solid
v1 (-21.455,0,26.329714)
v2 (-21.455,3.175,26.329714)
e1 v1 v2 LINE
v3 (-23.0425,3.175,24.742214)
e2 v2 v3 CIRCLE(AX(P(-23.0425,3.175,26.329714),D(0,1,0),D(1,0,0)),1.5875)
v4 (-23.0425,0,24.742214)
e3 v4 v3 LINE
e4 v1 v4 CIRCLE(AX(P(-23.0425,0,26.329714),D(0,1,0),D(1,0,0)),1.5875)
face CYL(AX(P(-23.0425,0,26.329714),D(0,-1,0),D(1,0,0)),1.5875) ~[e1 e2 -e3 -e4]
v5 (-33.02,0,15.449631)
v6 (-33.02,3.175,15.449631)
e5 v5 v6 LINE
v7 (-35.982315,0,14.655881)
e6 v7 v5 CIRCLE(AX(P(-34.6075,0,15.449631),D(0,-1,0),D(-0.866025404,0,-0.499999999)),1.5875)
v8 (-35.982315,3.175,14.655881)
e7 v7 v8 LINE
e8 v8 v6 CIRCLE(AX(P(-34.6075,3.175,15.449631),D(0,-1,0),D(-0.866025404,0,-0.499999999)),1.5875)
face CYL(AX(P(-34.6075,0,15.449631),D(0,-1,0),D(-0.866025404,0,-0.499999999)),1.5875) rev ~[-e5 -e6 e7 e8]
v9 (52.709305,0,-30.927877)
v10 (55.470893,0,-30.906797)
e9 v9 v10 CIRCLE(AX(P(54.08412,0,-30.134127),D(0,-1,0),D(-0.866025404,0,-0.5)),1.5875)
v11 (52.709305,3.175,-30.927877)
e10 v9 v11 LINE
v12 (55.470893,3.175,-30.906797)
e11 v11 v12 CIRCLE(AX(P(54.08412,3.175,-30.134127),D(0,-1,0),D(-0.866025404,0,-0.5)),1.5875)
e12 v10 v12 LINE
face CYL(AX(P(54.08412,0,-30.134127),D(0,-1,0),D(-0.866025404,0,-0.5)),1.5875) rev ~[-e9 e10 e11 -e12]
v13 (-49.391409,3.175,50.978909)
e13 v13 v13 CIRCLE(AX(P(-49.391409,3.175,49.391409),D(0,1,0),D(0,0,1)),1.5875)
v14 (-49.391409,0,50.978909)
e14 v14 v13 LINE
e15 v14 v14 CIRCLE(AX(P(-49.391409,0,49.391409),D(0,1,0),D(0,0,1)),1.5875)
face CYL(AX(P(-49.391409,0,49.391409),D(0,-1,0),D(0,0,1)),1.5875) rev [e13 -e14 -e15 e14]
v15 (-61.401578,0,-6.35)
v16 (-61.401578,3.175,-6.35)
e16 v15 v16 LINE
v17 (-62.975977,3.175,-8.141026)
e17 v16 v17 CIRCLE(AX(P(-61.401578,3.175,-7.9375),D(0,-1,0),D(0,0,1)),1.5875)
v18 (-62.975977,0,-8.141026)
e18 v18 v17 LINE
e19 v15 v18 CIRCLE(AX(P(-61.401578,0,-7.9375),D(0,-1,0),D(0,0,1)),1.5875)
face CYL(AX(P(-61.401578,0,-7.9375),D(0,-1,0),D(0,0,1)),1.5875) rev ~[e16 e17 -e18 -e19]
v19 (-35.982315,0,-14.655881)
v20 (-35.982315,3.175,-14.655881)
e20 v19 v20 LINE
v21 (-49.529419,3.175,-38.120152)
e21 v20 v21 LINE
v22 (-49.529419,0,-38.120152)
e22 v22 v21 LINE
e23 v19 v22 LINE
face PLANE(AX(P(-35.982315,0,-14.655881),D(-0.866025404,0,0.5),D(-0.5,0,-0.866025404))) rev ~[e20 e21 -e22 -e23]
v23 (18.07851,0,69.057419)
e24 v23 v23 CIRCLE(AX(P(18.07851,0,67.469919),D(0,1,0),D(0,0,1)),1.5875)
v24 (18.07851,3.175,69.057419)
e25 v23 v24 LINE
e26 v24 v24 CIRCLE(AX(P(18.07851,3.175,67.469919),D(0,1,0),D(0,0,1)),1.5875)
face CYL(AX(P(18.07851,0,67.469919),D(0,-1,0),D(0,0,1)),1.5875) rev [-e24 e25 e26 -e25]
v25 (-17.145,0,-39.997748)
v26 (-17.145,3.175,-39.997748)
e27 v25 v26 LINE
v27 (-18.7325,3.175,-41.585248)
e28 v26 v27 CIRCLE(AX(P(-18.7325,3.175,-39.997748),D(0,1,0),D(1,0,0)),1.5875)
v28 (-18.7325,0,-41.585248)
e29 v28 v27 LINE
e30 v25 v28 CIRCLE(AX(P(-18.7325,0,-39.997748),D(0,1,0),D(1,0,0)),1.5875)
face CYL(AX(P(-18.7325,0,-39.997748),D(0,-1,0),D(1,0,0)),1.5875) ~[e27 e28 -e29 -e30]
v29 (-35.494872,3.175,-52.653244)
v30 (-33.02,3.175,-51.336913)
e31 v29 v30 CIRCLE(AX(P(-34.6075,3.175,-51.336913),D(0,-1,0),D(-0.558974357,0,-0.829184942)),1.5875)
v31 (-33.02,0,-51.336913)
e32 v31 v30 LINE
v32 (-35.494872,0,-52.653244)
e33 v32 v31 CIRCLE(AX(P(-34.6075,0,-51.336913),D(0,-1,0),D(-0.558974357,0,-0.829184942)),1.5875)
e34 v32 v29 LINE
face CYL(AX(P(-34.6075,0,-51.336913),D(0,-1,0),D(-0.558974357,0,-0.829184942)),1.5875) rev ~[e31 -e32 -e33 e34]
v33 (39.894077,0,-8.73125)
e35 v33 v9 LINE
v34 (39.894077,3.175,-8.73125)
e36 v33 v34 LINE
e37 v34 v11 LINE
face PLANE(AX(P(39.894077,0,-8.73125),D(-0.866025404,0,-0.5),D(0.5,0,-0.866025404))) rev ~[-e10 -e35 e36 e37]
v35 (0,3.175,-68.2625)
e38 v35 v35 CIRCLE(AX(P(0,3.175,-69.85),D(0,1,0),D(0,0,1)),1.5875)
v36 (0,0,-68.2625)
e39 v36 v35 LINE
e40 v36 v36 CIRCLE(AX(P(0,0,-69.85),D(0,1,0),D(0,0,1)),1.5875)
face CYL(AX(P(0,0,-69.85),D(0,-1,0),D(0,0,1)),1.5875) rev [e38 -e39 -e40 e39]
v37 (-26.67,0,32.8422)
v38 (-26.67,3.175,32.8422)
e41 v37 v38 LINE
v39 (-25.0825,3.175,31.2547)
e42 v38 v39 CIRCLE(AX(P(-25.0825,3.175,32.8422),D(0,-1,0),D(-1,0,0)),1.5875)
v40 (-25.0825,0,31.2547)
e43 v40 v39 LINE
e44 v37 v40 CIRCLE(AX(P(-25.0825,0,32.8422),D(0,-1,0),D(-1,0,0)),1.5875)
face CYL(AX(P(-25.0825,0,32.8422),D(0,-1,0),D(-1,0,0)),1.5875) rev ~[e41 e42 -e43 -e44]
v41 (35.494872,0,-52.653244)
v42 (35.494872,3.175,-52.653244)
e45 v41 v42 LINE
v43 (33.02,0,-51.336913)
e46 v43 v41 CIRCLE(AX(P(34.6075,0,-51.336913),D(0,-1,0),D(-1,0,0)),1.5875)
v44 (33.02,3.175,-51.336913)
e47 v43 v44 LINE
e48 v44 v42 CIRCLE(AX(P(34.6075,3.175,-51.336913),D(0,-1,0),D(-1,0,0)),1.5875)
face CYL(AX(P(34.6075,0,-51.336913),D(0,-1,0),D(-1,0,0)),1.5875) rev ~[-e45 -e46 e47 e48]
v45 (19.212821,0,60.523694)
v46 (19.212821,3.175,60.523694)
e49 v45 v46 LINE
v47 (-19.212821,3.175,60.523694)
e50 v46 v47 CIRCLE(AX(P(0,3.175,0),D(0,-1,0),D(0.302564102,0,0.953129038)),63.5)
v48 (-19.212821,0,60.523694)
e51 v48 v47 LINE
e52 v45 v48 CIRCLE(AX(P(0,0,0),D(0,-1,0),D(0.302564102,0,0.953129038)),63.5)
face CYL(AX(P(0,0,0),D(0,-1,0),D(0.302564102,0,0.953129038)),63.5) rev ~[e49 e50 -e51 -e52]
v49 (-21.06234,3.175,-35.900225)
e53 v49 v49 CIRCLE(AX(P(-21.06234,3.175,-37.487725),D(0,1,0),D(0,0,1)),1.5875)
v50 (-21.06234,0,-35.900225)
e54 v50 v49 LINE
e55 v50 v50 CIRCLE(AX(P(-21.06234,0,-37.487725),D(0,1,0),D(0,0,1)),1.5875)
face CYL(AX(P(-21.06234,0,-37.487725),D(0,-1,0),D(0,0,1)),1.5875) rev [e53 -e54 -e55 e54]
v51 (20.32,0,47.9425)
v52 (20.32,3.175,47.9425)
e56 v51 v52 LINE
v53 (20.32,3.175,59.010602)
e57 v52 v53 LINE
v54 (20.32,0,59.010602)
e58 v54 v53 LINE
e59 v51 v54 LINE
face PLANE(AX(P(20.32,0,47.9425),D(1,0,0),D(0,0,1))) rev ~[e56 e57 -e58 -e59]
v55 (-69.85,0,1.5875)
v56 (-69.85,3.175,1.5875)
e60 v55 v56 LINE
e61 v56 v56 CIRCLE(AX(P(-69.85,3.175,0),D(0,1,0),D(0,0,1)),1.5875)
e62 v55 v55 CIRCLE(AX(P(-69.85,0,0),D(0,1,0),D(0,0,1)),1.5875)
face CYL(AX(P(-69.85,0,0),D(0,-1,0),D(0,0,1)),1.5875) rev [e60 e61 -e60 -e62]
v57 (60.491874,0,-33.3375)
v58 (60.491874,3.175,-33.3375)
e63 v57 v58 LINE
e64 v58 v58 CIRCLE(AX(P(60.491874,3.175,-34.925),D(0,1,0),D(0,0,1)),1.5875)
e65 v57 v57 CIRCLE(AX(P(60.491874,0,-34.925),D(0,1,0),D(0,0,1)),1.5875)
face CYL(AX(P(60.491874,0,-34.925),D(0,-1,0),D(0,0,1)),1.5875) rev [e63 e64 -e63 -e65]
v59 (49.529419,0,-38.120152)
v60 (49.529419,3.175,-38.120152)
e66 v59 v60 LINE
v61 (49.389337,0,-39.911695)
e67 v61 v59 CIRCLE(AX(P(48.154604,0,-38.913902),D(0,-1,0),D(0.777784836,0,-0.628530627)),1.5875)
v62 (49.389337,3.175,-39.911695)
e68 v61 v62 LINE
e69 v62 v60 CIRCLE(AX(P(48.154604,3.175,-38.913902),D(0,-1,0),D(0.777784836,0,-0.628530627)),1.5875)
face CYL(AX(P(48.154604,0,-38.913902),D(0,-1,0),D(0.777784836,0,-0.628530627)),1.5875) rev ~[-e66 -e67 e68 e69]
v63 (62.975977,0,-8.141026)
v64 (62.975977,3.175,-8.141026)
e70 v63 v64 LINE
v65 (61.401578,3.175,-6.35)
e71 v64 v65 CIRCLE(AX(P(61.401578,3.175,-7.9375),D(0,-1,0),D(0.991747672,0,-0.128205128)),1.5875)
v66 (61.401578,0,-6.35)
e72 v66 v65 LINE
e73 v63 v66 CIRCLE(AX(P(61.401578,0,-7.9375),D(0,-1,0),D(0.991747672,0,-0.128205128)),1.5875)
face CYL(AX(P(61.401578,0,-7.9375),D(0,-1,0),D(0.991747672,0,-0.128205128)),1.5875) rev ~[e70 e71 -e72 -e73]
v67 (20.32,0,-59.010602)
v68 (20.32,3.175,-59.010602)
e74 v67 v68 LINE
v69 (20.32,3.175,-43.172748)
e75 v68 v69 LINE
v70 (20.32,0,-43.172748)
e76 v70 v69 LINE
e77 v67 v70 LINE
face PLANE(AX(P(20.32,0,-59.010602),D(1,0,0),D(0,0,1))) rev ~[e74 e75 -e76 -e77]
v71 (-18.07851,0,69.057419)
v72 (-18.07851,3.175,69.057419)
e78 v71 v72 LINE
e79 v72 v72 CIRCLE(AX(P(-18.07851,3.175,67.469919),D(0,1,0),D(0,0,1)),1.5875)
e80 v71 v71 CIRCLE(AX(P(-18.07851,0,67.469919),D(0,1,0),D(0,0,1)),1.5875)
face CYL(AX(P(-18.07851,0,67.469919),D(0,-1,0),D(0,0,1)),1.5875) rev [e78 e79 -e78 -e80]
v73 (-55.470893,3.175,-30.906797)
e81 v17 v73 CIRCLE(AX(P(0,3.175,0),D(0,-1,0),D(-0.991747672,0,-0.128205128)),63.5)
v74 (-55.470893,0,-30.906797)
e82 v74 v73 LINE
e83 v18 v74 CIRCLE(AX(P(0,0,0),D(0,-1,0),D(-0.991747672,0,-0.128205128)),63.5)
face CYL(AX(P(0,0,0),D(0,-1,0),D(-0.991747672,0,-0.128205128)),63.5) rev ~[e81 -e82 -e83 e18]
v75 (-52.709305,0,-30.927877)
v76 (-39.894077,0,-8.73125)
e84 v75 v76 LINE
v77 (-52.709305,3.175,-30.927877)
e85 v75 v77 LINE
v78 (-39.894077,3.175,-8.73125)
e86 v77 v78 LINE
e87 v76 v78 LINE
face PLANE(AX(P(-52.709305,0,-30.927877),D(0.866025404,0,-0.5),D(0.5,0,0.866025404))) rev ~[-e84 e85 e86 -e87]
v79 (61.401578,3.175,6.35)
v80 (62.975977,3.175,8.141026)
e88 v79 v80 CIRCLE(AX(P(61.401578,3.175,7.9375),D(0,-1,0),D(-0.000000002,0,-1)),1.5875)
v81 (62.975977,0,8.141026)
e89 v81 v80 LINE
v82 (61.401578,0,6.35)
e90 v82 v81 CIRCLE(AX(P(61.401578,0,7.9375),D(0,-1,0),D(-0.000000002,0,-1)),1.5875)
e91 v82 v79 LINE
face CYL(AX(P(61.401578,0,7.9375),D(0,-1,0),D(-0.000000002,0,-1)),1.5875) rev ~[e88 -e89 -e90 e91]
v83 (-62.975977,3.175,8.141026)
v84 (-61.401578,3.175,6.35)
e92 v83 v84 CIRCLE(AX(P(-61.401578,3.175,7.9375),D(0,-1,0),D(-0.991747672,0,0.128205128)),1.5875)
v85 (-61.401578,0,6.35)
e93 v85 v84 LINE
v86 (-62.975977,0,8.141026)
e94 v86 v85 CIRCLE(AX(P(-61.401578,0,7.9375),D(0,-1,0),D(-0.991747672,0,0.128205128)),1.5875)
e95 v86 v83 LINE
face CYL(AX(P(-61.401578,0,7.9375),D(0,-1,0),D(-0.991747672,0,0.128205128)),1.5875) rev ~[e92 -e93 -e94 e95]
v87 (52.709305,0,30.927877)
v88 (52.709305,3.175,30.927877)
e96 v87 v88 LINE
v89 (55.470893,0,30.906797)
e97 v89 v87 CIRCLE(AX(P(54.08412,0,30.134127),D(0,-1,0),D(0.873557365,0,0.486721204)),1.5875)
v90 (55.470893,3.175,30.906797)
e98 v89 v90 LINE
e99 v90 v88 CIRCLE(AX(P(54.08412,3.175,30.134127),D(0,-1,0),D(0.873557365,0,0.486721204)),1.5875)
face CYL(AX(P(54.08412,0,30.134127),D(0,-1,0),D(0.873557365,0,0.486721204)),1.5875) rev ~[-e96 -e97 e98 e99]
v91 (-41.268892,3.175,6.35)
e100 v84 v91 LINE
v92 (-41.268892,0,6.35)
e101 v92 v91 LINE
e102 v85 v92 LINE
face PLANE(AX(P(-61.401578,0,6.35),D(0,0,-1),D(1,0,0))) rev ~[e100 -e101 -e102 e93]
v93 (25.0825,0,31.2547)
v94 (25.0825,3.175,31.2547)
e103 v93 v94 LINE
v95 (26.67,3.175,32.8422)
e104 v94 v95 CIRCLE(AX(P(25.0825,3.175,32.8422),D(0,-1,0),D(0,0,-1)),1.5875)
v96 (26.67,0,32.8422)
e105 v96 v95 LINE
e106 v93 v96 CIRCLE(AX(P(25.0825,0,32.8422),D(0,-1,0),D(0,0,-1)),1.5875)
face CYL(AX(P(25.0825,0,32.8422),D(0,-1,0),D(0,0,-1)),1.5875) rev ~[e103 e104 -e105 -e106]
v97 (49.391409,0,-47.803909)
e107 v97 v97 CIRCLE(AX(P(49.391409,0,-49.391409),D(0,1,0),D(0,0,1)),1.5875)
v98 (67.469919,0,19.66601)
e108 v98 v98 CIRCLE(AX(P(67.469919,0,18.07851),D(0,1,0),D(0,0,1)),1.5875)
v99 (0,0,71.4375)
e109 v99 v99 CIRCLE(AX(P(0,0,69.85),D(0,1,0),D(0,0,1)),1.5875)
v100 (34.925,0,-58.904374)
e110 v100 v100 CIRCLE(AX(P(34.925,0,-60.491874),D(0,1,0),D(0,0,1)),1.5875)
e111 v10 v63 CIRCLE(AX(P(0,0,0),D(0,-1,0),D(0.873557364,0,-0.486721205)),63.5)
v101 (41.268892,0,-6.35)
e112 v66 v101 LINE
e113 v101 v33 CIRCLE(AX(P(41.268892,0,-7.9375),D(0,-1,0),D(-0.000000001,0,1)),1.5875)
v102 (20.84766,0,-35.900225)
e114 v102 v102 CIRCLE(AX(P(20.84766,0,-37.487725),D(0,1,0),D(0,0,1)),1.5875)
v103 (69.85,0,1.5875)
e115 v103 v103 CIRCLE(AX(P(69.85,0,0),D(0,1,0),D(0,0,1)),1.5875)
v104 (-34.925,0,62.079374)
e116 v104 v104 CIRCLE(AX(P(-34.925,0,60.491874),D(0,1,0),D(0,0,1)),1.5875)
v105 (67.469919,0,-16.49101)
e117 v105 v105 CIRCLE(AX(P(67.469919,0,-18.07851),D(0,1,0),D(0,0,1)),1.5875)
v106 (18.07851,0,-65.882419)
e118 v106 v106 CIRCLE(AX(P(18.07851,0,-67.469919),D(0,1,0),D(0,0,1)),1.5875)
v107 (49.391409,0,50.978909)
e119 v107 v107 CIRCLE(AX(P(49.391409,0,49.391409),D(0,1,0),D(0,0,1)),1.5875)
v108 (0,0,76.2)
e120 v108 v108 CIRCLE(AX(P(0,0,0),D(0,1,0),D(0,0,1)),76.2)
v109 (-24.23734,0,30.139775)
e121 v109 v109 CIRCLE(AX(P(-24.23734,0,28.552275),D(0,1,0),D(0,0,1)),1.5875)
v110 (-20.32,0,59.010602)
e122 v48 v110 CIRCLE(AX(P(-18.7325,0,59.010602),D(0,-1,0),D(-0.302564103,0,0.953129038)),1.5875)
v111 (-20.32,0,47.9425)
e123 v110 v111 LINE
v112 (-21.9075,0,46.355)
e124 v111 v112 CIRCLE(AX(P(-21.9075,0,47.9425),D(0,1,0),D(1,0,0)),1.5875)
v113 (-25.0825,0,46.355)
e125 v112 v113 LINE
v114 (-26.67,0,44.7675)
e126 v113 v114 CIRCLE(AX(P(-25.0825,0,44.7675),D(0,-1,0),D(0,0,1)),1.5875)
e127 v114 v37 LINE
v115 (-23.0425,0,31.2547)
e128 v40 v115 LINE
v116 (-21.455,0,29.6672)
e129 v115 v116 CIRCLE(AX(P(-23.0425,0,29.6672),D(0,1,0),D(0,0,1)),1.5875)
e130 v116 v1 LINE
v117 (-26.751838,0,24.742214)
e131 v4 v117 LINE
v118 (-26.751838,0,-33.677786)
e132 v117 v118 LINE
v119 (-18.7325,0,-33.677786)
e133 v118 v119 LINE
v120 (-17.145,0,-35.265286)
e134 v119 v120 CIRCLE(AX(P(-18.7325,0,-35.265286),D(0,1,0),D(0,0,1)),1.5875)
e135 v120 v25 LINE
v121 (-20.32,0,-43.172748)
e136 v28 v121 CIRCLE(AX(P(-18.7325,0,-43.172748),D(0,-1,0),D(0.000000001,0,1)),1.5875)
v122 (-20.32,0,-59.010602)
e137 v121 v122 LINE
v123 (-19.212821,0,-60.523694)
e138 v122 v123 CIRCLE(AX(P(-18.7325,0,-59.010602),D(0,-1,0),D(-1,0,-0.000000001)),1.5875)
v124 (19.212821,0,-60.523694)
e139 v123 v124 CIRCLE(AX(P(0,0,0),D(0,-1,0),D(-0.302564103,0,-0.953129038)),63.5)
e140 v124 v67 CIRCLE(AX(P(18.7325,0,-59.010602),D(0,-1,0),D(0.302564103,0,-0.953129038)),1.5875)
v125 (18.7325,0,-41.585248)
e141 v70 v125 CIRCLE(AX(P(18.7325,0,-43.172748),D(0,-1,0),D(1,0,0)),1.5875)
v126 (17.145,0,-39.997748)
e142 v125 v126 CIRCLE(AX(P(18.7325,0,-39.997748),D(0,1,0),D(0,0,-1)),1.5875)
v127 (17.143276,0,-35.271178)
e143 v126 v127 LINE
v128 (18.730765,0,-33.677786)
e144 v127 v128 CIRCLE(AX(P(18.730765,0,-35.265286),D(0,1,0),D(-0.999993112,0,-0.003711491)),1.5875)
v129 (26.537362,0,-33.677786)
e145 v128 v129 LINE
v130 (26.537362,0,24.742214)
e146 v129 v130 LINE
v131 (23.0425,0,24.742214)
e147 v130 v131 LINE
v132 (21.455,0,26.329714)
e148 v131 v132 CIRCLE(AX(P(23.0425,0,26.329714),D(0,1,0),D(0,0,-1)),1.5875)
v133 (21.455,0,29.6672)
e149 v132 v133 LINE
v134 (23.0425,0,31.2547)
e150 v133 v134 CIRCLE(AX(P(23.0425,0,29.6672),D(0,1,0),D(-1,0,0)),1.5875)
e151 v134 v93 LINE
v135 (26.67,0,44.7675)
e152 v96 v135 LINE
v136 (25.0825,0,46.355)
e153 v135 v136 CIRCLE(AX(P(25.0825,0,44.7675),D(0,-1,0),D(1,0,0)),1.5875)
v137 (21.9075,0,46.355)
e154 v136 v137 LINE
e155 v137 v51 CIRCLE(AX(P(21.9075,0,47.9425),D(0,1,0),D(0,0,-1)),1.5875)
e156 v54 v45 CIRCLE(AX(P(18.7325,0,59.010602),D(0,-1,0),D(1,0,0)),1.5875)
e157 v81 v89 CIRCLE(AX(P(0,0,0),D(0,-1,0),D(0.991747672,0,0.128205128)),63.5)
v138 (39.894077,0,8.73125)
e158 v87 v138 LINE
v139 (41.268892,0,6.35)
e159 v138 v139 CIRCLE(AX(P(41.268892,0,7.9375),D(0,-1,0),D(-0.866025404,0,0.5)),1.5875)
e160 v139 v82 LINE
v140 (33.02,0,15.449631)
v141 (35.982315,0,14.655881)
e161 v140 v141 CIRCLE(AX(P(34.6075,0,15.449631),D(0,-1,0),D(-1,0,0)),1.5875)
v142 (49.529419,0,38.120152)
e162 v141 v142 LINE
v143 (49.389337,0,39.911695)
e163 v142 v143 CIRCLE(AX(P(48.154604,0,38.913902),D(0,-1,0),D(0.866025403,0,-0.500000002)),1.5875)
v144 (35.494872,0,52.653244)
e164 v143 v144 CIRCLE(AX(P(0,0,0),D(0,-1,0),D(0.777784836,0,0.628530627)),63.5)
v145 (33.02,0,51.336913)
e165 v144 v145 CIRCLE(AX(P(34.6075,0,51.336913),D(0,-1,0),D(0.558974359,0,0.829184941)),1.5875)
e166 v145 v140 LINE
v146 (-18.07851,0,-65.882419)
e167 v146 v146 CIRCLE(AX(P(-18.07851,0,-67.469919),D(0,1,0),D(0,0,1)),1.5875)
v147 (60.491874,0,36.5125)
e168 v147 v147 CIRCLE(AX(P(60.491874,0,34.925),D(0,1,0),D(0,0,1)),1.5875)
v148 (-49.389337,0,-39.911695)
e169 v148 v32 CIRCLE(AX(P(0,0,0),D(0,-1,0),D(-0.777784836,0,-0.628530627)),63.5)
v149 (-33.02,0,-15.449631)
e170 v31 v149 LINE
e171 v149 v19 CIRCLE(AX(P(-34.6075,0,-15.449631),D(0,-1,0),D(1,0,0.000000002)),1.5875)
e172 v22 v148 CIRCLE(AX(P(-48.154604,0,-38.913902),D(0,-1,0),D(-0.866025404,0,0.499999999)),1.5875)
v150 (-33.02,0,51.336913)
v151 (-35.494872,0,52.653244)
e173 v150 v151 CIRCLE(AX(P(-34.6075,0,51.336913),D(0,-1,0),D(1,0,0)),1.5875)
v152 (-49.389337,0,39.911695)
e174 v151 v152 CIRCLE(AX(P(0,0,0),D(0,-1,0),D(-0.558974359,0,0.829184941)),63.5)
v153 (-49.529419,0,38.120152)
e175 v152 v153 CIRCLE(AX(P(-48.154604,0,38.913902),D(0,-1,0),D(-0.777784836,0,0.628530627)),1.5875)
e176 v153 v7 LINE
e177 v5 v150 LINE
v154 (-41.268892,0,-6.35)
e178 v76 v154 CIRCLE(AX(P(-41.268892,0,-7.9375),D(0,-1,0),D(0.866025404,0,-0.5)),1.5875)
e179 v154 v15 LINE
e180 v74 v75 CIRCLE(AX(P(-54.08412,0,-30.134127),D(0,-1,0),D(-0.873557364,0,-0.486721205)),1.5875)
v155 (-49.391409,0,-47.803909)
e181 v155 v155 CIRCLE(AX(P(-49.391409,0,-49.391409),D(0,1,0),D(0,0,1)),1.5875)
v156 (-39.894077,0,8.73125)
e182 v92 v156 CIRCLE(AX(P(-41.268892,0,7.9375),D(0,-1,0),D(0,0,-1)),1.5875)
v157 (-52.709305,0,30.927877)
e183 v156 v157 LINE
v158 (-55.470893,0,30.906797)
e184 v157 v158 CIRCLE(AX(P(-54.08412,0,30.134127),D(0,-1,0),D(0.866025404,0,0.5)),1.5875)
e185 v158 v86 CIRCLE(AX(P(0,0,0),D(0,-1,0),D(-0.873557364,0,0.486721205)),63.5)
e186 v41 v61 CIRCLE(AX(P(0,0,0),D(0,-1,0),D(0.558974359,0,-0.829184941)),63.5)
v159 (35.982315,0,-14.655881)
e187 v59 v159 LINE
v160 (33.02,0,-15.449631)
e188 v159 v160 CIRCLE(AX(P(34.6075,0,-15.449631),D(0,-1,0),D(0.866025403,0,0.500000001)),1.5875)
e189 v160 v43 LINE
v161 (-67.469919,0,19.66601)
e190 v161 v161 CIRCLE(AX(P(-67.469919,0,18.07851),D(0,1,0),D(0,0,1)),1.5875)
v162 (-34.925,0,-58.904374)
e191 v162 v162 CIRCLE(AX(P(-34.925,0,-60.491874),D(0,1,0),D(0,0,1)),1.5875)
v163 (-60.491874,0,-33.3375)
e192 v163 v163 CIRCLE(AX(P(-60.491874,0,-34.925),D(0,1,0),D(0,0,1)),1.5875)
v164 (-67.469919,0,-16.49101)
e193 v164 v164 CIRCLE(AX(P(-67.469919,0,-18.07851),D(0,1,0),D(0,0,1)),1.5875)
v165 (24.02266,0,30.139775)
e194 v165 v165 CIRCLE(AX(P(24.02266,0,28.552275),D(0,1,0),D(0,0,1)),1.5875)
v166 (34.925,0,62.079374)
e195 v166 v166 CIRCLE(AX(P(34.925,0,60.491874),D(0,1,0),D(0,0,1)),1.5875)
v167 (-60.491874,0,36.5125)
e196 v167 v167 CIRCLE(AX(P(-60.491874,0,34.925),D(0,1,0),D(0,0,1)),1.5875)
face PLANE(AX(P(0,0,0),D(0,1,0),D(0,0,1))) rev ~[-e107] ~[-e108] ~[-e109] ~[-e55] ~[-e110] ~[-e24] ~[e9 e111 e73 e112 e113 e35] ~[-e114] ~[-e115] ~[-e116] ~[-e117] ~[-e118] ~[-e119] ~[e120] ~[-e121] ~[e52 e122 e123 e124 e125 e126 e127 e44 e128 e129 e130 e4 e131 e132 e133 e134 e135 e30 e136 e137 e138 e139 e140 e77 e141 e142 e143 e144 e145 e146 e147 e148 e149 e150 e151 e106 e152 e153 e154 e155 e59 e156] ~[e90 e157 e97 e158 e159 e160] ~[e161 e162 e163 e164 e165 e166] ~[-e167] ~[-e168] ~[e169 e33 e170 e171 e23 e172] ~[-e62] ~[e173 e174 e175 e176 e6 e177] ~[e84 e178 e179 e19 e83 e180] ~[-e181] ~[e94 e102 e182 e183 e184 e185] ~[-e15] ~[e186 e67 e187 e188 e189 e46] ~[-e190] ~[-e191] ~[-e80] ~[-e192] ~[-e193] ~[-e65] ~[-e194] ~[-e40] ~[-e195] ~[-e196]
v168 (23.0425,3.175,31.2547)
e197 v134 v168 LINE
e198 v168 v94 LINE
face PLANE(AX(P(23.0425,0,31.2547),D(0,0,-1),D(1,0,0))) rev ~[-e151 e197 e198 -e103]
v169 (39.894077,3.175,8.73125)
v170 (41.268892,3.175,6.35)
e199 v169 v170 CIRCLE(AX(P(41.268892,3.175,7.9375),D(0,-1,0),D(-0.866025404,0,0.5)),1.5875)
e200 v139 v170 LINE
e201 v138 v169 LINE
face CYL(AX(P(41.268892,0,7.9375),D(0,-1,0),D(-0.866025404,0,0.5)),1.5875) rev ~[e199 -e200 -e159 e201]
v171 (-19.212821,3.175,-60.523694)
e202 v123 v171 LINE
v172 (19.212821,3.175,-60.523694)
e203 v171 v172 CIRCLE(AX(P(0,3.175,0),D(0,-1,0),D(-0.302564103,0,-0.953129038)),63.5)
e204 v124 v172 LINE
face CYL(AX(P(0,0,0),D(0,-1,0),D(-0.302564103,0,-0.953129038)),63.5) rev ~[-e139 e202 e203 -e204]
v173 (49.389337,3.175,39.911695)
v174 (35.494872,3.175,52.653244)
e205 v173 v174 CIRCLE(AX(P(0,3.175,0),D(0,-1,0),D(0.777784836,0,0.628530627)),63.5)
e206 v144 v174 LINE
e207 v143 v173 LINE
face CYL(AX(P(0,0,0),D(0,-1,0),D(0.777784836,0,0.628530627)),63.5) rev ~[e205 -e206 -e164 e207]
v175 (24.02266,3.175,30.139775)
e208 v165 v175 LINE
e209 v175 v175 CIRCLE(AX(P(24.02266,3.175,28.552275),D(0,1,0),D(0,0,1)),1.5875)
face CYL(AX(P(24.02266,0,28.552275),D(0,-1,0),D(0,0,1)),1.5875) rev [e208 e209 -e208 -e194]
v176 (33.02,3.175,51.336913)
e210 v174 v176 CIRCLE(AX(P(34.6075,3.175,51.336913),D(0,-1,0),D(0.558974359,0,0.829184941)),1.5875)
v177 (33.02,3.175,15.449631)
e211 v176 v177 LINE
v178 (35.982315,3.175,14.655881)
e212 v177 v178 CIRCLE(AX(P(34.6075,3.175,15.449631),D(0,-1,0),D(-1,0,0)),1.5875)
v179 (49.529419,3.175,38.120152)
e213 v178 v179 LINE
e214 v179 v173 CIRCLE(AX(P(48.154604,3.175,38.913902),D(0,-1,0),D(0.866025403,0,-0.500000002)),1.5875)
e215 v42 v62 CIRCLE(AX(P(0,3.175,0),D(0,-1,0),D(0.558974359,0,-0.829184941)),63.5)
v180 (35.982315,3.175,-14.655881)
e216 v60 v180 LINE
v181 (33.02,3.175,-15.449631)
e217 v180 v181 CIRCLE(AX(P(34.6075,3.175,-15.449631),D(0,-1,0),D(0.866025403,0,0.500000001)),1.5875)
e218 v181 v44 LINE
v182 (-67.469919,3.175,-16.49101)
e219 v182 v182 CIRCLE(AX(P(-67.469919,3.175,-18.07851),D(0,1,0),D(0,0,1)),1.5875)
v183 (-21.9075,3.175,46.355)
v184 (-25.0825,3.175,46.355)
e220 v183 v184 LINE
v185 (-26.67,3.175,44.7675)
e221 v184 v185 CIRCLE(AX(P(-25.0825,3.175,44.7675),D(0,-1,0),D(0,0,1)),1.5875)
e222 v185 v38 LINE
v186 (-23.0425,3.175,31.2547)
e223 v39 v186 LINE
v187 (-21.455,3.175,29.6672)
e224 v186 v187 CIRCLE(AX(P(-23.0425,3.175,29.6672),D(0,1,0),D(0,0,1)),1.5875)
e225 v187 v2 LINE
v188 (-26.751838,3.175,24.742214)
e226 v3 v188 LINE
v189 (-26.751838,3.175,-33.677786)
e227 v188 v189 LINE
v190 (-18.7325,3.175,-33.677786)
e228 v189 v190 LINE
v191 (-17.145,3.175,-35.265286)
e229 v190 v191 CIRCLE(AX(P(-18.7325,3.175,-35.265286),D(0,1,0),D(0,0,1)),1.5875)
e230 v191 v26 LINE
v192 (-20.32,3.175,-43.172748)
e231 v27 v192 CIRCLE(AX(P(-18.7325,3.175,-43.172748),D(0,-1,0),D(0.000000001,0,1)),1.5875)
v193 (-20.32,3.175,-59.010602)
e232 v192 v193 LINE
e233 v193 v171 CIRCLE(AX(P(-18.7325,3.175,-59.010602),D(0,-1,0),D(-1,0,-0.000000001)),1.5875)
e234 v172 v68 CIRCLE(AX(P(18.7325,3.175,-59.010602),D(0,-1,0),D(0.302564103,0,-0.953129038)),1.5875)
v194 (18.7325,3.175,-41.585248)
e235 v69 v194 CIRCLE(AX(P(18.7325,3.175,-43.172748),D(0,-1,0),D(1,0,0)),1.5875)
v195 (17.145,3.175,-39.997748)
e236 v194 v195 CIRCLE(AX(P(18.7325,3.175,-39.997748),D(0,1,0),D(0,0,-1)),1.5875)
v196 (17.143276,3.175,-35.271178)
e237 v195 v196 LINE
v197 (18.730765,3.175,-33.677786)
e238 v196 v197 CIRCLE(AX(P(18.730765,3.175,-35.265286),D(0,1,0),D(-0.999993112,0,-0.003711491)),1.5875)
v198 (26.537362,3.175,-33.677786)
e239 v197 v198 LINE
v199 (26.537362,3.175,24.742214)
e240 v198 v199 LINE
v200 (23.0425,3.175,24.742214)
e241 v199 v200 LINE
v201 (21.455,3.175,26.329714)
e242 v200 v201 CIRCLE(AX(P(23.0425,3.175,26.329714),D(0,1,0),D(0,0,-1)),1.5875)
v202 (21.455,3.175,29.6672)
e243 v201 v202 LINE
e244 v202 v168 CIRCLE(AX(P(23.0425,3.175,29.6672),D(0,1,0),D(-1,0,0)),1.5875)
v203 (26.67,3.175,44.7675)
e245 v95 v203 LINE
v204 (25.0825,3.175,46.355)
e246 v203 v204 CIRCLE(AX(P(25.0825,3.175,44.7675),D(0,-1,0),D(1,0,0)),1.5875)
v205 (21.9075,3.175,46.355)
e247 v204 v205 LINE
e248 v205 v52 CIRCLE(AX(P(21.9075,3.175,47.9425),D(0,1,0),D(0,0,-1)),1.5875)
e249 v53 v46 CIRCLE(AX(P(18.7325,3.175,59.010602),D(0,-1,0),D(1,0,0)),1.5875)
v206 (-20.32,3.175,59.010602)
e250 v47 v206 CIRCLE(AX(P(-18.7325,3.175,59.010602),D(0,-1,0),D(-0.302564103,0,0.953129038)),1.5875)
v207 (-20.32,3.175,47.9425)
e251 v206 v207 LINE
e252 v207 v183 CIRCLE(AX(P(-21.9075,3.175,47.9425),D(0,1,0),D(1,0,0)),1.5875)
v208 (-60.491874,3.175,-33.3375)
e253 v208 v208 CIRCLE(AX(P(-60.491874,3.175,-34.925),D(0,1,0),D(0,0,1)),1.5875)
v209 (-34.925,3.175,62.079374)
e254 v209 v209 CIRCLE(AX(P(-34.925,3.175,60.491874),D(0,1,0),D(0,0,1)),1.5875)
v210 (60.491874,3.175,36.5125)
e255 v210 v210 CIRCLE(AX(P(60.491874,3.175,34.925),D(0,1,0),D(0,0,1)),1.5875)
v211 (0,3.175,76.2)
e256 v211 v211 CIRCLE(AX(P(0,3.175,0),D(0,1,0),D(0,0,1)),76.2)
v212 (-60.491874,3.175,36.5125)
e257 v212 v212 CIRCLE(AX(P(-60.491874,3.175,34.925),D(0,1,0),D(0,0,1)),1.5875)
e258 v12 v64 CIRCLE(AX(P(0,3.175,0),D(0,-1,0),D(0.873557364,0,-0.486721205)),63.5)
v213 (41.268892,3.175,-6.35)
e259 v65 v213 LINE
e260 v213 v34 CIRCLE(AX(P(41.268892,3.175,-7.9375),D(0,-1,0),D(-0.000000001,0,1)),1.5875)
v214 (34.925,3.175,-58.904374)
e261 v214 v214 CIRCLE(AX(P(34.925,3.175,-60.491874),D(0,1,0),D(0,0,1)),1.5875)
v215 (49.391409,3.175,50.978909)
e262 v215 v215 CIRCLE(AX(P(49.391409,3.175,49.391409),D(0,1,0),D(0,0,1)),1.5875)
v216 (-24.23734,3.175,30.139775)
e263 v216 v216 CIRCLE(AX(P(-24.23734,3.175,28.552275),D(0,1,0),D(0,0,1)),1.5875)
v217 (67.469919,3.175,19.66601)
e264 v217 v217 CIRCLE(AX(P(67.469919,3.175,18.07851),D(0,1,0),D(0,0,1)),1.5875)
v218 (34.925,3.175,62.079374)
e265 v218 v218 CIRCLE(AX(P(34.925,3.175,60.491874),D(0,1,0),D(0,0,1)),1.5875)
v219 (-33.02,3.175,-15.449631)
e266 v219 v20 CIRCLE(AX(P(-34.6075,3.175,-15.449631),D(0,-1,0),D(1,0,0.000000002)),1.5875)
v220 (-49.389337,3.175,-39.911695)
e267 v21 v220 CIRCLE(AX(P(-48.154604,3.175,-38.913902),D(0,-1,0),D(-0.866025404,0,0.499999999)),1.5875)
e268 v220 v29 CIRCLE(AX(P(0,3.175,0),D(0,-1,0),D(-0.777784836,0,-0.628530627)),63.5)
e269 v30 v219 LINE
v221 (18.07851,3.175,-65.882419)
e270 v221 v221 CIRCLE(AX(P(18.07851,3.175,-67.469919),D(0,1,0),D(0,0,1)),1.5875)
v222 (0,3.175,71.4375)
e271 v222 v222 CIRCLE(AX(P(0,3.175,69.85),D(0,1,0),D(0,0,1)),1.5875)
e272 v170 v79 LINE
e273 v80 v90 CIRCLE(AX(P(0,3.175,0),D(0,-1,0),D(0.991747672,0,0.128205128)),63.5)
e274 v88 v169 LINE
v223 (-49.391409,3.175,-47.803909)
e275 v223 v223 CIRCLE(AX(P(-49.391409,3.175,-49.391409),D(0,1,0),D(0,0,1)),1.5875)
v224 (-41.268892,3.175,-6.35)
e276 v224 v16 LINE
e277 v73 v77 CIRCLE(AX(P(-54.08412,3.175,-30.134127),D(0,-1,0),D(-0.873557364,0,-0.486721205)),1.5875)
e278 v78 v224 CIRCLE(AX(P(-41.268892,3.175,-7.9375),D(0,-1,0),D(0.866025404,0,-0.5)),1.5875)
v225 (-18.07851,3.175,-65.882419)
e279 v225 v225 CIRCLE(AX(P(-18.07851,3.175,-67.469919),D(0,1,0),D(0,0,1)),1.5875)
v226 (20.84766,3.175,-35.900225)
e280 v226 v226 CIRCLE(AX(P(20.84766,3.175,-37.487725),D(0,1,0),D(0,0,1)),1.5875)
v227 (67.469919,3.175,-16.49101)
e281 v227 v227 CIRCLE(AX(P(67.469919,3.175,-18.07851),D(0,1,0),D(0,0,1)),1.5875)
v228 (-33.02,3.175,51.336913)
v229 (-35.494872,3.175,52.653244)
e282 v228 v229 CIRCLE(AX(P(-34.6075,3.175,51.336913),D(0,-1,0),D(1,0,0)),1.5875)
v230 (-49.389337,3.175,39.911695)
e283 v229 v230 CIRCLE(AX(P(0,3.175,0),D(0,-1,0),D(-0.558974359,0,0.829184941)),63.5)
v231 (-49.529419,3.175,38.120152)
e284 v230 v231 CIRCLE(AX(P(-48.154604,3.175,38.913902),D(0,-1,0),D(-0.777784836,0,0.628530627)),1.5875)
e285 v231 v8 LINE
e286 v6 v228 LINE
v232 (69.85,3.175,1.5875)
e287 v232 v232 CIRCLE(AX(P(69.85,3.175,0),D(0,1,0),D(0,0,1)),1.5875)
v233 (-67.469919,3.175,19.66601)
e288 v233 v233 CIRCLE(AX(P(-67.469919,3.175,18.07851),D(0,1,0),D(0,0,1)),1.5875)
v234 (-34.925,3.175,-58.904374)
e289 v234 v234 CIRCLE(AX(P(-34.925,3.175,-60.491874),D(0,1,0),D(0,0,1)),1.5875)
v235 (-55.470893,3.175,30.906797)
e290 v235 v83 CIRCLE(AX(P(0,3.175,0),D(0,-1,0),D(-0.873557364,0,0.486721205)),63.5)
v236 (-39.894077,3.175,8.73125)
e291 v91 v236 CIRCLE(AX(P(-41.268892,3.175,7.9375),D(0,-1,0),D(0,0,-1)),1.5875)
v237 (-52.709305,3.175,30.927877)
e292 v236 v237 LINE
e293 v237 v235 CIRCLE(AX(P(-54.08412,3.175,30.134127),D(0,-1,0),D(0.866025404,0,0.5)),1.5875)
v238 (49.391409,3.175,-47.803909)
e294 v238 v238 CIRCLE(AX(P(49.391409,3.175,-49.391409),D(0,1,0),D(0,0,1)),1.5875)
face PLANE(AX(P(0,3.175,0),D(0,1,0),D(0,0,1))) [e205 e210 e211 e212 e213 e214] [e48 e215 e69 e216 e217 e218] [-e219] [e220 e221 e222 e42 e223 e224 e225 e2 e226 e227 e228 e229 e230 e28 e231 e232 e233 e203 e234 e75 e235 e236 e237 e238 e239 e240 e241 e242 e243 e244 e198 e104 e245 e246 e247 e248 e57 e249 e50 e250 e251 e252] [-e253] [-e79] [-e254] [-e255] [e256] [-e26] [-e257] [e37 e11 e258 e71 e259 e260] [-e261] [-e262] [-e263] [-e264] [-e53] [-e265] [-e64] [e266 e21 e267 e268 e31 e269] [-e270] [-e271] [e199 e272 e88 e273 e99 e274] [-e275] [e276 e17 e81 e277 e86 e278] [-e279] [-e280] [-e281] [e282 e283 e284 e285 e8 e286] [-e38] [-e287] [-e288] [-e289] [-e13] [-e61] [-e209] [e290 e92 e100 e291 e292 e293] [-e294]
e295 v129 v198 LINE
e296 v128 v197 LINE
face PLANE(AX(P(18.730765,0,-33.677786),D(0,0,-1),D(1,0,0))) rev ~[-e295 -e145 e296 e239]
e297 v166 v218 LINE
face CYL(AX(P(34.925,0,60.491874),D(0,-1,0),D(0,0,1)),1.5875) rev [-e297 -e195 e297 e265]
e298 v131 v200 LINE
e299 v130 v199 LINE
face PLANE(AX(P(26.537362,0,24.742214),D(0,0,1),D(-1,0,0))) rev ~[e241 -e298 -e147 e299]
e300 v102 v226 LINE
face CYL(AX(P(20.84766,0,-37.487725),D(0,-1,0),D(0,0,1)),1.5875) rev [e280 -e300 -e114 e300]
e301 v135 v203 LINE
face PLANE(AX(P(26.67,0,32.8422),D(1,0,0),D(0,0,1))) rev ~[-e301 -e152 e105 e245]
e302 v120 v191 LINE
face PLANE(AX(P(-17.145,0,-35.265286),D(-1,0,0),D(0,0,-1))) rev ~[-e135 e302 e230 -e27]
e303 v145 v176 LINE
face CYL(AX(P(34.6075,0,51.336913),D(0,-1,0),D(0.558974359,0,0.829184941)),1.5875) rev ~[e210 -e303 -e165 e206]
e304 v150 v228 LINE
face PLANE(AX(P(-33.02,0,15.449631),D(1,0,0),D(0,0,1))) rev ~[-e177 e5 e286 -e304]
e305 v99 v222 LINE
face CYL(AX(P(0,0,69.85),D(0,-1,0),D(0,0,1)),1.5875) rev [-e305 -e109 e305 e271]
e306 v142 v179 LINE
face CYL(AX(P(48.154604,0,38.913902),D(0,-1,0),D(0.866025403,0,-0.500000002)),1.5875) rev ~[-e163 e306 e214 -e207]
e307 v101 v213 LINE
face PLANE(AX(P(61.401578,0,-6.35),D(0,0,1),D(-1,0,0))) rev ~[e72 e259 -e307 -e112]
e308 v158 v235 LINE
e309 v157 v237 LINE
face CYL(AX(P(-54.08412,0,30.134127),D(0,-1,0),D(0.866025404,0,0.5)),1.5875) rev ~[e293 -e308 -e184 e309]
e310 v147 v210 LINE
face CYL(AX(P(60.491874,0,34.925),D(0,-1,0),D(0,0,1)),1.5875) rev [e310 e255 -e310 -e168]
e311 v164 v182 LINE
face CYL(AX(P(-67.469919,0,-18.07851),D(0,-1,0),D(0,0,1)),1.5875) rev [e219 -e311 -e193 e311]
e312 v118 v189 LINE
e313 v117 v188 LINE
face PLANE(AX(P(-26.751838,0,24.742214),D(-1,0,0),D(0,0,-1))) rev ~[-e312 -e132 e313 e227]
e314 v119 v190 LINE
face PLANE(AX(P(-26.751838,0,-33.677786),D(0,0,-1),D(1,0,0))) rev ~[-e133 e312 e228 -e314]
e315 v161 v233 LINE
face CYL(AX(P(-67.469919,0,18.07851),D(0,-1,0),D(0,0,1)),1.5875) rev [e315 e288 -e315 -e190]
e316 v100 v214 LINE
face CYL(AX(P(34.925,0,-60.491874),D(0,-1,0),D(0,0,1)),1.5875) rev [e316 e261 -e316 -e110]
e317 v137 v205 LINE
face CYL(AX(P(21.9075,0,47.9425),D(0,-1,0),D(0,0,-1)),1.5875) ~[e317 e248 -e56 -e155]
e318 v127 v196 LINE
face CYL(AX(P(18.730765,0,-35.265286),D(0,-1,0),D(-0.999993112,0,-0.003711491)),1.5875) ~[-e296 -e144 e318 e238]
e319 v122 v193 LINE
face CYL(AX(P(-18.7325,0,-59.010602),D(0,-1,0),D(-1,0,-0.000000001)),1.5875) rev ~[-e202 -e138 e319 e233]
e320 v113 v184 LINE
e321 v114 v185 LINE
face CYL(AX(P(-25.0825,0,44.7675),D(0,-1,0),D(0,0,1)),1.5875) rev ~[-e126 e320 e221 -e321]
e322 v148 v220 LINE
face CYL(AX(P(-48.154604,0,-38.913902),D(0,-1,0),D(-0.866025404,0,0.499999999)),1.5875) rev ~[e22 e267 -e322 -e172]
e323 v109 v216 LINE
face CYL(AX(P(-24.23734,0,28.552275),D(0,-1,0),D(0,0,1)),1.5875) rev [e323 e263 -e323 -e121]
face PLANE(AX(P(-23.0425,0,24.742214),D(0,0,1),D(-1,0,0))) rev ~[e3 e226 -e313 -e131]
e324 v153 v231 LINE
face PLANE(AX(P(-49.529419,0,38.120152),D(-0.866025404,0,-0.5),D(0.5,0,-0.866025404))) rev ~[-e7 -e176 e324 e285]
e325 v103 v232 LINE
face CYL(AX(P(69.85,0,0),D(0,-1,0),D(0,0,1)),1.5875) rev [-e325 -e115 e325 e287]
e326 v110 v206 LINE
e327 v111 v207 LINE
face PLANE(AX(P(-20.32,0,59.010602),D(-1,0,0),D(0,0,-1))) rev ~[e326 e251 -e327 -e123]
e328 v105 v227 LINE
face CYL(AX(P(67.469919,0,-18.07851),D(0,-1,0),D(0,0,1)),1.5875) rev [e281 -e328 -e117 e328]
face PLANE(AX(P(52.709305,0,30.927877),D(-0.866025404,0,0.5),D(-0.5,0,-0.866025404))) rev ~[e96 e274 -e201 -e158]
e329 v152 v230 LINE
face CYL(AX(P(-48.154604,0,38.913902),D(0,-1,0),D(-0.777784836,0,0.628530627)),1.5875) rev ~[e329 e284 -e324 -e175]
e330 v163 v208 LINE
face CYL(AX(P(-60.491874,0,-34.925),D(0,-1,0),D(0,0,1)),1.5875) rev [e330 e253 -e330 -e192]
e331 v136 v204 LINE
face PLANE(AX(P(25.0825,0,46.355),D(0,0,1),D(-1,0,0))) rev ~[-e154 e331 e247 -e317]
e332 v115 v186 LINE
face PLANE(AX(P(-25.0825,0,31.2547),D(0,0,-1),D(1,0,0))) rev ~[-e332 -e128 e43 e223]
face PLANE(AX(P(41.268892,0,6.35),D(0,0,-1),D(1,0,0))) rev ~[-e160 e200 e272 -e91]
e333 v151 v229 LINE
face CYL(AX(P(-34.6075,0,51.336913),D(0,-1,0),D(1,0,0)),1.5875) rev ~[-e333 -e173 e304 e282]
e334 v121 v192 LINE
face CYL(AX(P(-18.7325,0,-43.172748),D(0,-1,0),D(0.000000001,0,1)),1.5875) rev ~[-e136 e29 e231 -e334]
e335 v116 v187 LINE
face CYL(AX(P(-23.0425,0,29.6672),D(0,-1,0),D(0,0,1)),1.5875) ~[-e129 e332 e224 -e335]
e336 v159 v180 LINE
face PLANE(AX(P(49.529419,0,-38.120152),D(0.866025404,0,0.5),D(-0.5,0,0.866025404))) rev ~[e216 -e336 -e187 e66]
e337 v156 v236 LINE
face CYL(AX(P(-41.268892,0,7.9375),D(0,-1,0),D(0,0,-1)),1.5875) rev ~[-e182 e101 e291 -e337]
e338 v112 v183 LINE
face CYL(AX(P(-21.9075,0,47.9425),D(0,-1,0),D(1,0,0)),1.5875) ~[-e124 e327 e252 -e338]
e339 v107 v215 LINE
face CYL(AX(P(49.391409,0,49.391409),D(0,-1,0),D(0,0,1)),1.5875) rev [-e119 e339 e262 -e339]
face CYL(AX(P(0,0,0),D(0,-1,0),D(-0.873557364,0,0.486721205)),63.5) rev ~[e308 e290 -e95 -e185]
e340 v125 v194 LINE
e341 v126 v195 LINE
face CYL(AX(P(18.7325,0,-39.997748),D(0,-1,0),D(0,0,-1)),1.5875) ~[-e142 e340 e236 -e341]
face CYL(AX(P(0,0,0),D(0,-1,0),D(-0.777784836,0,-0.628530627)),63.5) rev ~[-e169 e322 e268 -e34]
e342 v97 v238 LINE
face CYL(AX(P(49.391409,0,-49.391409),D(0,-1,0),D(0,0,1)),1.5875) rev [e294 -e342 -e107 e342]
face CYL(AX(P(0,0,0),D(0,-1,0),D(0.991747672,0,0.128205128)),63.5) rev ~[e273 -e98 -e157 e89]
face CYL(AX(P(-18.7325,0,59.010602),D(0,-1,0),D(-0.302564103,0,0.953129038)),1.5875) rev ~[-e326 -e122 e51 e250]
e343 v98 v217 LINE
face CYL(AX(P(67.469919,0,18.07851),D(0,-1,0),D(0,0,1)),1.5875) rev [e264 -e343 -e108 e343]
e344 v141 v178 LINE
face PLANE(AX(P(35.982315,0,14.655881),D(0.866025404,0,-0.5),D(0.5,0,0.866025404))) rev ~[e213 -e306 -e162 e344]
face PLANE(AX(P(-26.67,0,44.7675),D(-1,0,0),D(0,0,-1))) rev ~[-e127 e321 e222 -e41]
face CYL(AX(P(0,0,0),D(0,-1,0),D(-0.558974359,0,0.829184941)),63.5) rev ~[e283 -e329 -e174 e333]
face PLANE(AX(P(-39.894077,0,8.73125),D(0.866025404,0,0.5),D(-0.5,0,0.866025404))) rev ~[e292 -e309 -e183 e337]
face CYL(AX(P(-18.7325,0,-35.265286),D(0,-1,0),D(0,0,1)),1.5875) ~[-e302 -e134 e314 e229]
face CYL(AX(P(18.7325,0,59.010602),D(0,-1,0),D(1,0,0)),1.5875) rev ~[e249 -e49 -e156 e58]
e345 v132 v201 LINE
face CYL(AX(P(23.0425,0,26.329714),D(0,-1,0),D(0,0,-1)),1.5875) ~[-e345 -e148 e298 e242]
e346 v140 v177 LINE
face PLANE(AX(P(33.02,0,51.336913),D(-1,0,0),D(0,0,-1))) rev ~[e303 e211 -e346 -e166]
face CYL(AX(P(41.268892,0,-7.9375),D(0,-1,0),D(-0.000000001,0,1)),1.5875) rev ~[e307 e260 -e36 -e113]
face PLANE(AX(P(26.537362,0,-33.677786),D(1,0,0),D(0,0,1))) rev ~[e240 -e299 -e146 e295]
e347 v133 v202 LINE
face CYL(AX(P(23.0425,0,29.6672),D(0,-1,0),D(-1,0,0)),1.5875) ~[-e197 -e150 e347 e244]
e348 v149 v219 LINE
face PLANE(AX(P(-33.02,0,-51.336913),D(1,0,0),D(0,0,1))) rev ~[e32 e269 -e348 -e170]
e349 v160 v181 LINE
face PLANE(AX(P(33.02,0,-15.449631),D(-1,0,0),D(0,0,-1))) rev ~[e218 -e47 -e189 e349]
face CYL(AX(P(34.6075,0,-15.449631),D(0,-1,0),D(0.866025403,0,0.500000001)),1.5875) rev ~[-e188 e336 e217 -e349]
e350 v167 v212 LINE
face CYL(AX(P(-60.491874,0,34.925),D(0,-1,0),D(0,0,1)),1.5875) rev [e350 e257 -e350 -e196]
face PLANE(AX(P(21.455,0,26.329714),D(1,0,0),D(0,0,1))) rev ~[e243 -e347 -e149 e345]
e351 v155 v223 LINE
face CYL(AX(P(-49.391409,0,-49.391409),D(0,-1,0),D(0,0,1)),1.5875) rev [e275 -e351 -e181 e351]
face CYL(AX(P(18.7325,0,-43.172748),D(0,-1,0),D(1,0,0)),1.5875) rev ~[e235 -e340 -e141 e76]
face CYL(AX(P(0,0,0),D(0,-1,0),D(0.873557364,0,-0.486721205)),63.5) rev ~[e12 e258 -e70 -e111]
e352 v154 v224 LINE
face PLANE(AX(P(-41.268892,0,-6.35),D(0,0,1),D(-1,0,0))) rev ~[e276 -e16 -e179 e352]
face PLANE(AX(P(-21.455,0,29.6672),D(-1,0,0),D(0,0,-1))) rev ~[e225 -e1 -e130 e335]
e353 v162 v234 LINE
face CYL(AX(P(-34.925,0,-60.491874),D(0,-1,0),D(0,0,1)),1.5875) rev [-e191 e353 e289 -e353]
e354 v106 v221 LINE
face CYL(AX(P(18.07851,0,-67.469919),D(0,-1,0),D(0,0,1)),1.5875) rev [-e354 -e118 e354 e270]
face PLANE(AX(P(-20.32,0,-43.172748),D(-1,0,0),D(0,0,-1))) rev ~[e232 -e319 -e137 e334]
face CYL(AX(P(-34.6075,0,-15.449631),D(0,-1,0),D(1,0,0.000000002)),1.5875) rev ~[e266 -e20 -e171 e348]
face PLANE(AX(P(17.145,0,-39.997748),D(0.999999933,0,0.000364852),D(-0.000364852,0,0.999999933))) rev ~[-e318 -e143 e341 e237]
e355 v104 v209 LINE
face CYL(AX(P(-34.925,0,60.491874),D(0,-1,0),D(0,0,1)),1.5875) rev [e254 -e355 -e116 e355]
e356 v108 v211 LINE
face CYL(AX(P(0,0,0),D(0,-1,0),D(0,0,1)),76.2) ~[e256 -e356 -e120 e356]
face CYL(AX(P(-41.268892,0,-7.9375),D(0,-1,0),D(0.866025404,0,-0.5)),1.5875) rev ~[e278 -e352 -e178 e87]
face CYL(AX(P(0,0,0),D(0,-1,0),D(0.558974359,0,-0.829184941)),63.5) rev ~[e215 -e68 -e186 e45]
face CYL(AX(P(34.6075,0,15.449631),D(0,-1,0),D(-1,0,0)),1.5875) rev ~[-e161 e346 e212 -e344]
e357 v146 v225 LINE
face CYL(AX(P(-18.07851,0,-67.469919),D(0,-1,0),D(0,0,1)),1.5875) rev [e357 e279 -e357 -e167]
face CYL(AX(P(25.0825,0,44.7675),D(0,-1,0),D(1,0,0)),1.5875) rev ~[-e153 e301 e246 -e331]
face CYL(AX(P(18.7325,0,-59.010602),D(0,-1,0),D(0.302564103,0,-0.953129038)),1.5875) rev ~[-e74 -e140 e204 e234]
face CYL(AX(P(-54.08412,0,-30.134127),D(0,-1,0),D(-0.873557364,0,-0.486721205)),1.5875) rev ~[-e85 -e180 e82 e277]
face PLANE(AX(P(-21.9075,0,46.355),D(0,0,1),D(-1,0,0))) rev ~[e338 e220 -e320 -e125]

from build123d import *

# Parameters (mm, degrees)
MODEL_R             = 76.199999999
MODEL_R_2           = 1.5875
BOSS_EXTRUDE1_DEPTH = 3.175


with BuildPart() as part:
    # Model → Boss-Extrude1 (new body)
    with BuildSketch(Plane(origin=(0, 0, 0), x_dir=(1, 0, 0), z_dir=(0, 1, 0))):
        with Locations(Location((1e-09, -4e-09, 0), (0, 0, 270))):
            Circle(MODEL_R)
        with Locations(Location((-21.062340001, 37.48772538, 0), (0, 0, 270))):
            Circle(MODEL_R_2, mode=Mode.SUBTRACT)
        with Locations(Location((24.022659999, -28.55227462, 0), (0, 0, 270))):
            Circle(MODEL_R_2, mode=Mode.SUBTRACT)
        with Locations(Location((-34.925, -60.491874454, 0), (0, 0, 270))):
            Circle(MODEL_R_2, mode=Mode.SUBTRACT)
        with Locations(Location((-60.491874454, -34.925, 0), (0, 0, 270))):
            Circle(MODEL_R_2, mode=Mode.SUBTRACT)
        with Locations(Location((-69.85, 0, 0), (0, 0, 270))):
            Circle(MODEL_R_2, mode=Mode.SUBTRACT)
        with Locations(Location((-60.491874454, 34.925, 0), (0, 0, 270))):
            Circle(MODEL_R_2, mode=Mode.SUBTRACT)
        with Locations(Location((0, 69.85, 0), (0, 0, 270))):
            Circle(MODEL_R_2, mode=Mode.SUBTRACT)
        with Locations(Location((34.925, 60.491874454, 0), (0, 0, 270))):
            Circle(MODEL_R_2, mode=Mode.SUBTRACT)
        with Locations(Location((60.491874454, 34.925, 0), (0, 0, 270))):
            Circle(MODEL_R_2, mode=Mode.SUBTRACT)
        with Locations(Location((69.85, 0, 0), (0, 0, 270))):
            Circle(MODEL_R_2, mode=Mode.SUBTRACT)
        with Locations(Location((60.491874454, -34.925, 0), (0, 0, 270))):
            Circle(MODEL_R_2, mode=Mode.SUBTRACT)
        with Locations(Location((34.925, -60.491874454, 0), (0, 0, 270))):
            Circle(MODEL_R_2, mode=Mode.SUBTRACT)
        with Locations(Location((-24.237340001, -28.55227462, 0), (0, 0, 270))):
            Circle(MODEL_R_2, mode=Mode.SUBTRACT)
        with Locations(Location((0, -69.85, 0), (0, 0, 270))):
            Circle(MODEL_R_2, mode=Mode.SUBTRACT)
        with Locations(Location((18.0785103, -67.469918966, 0), (0, 0, 270))):
            Circle(MODEL_R_2, mode=Mode.SUBTRACT)
        with Locations(Location((49.391408667, -49.391408667, 0), (0, 0, 270))):
            Circle(MODEL_R_2, mode=Mode.SUBTRACT)
        with Locations(Location((67.469918966, -18.0785103, 0), (0, 0, 270))):
            Circle(MODEL_R_2, mode=Mode.SUBTRACT)
        with Locations(Location((67.469918966, 18.0785103, 0), (0, 0, 270))):
            Circle(MODEL_R_2, mode=Mode.SUBTRACT)
        with Locations(Location((49.391408667, 49.391408667, 0), (0, 0, 270))):
            Circle(MODEL_R_2, mode=Mode.SUBTRACT)
        with Locations(Location((18.0785103, 67.469918966, 0), (0, 0, 270))):
            Circle(MODEL_R_2, mode=Mode.SUBTRACT)
        with Locations(Location((-18.0785103, 67.469918966, 0), (0, 0, 270))):
            Circle(MODEL_R_2, mode=Mode.SUBTRACT)
        with Locations(Location((-49.391408667, 49.391408667, 0), (0, 0, 270))):
            Circle(MODEL_R_2, mode=Mode.SUBTRACT)
        with Locations(Location((-67.469918966, 18.0785103, 0), (0, 0, 270))):
            Circle(MODEL_R_2, mode=Mode.SUBTRACT)
        with Locations(Location((-67.469918966, -18.0785103, 0), (0, 0, 270))):
            Circle(MODEL_R_2, mode=Mode.SUBTRACT)
        with Locations(Location((-49.391408667, -49.391408667, 0), (0, 0, 270))):
            Circle(MODEL_R_2, mode=Mode.SUBTRACT)
        with Locations(Location((-18.0785103, -67.469918966, 0), (0, 0, 270))):
            Circle(MODEL_R_2, mode=Mode.SUBTRACT)
        with Locations(Location((20.847659999, 37.48772538, 0), (0, 0, 270))):
            Circle(MODEL_R_2, mode=Mode.SUBTRACT)
        with Locations(Location((-34.925, 60.491874454, 0), (0, 0, 270))):
            Circle(MODEL_R_2, mode=Mode.SUBTRACT)
        with BuildLine():
            Line((-39.894076643, -8.73125), (-52.709304986, -30.927876602))
            ThreePointArc((-52.709304986, -30.927876602), (-54.096237861, -31.721580355), (-55.470892632, -30.906796514))
            ThreePointArc((-55.470892632, -30.906796514), (-60.307423447, -19.881264479), (-62.975977178, -8.141025641))
            ThreePointArc((-62.975977178, -8.141025641), (-62.593897589, -6.889392349), (-61.401577748, -6.35))
            Line((-61.401577748, -6.35), (-41.268891971, -6.35))
            ThreePointArc((-41.268891971, -6.35), (-39.894076643, -7.14375), (-39.894076643, -8.73125))
        make_face(mode=Mode.SUBTRACT)
        with BuildLine():
            Line((39.894076642, 8.731249996), (52.709304986, 30.927876598))
            ThreePointArc((52.709304986, 30.927876598), (54.09623786, 31.721580351), (55.470892632, 30.906796511))
            ThreePointArc((55.470892632, 30.906796511), (60.307423447, 19.881264475), (62.975977179, 8.141025637))
            ThreePointArc((62.975977179, 8.141025637), (62.593897589, 6.889392344), (61.401577747, 6.349999996))
            Line((61.401577747, 6.349999996), (41.26889197, 6.349999996))
            ThreePointArc((41.26889197, 6.349999996), (39.894076642, 7.143749997), (39.894076642, 8.731249996))
        make_face(mode=Mode.SUBTRACT)
        with BuildLine():
            Line((-35.982315329, 14.655880652), (-49.529418969, 38.120152452))
            ThreePointArc((-49.529418969, 38.120152452), (-49.737272965, 39.037652431), (-49.389337066, 39.911694823))
            ThreePointArc((-49.389337066, 39.911694823), (-42.917583758, 46.800972253), (-35.494871794, 52.653243734))
            ThreePointArc((-35.494871794, 52.653243734), (-33.862029167, 52.738493705), (-33.020000001, 51.336912639))
            Line((-33.020000001, 51.336912639), (-33.020000001, 15.449630652))
            ThreePointArc((-33.020000001, 15.449630652), (-34.196624767, 13.916223405), (-35.982315329, 14.655880652))
        make_face(mode=Mode.SUBTRACT)
        with BuildLine():
            Line((41.268891969, -6.350000005), (61.401577747, -6.350000005))
            ThreePointArc((61.401577747, -6.350000005), (62.593897589, -6.889392353), (62.975977179, -8.141025645))
            ThreePointArc((62.975977179, -8.141025645), (60.307423447, -19.881264484), (55.470892631, -30.906796519))
            ThreePointArc((55.470892631, -30.906796519), (54.09623786, -31.72158036), (52.709304985, -30.927876606))
            Line((52.709304985, -30.927876606), (39.894076642, -8.731250005))
            ThreePointArc((39.894076642, -8.731250005), (39.894076642, -7.143750005), (41.268891969, -6.350000005))
        make_face(mode=Mode.SUBTRACT)
        with BuildLine():
            Line((17.145000001, 39.997748357), (17.143275501, 35.271178328))
            ThreePointArc((17.143275501, 35.271178328), (17.606151348, 34.14483939), (18.730764569, 33.677786336))
            Line((18.730764569, 33.677786336), (26.5373616, 33.677786336))
            Line((26.5373616, 33.677786336), (26.5373616, -24.742213664))
            Line((26.5373616, -24.742213664), (23.042500002, -24.742213664))
            ThreePointArc((23.042500002, -24.742213664), (21.919967987, -25.207181649), (21.455000002, -26.329713664))
            Line((21.455000002, -26.329713664), (21.455000002, -29.667200004))
            ThreePointArc((21.455000002, -29.667200004), (21.919967987, -30.789732019), (23.042500002, -31.254700004))
            Line((23.042500002, -31.254700004), (25.082500001, -31.254700004))
            ThreePointArc((25.082500001, -31.254700004), (26.205032016, -31.719667989), (26.670000001, -32.842200004))
            Line((26.670000001, -32.842200004), (26.670000001, -44.767500004))
            ThreePointArc((26.670000001, -44.767500004), (26.205032016, -45.890032019), (25.082500001, -46.355000004))
            Line((25.082500001, -46.355000004), (21.907500001, -46.355000004))
            ThreePointArc((21.907500001, -46.355000004), (20.784967986, -46.819967989), (20.320000001, -47.942500004))
            Line((20.320000001, -47.942500004), (20.320000001, -59.010601594))
            ThreePointArc((20.320000001, -59.010601594), (20.013645009, -59.948057576), (19.212820514, -60.523693943))
            ThreePointArc((19.212820514, -60.523693943), (1e-09, -63.500000004), (-19.212820512, -60.523693943))
            ThreePointArc((-19.212820512, -60.523693943), (-20.013645007, -59.948057576), (-20.319999999, -59.010601594))
            Line((-20.319999999, -59.010601594), (-20.319999999, -47.942500004))
            ThreePointArc((-20.319999999, -47.942500004), (-20.784967984, -46.819967989), (-21.907499999, -46.355000004))
            Line((-21.907499999, -46.355000004), (-25.082499999, -46.355000004))
            ThreePointArc((-25.082499999, -46.355000004), (-26.205032014, -45.890032019), (-26.669999999, -44.767500004))
            Line((-26.669999999, -44.767500004), (-26.669999999, -32.842200004))
            ThreePointArc((-26.669999999, -32.842200004), (-26.205032014, -31.719667989), (-25.082499999, -31.254700004))
            Line((-25.082499999, -31.254700004), (-23.0425, -31.254700004))
            ThreePointArc((-23.0425, -31.254700004), (-21.919967985, -30.789732019), (-21.455, -29.667200004))
            Line((-21.455, -29.667200004), (-21.455, -26.329713664))
            ThreePointArc((-21.455, -26.329713664), (-21.919967985, -25.207181649), (-23.0425, -24.742213664))
            Line((-23.0425, -24.742213664), (-26.7518384, -24.742213664))
            Line((-26.7518384, -24.742213664), (-26.7518384, 33.677786336))
            Line((-26.7518384, 33.677786336), (-18.732499999, 33.677786336))
            ThreePointArc((-18.732499999, 33.677786336), (-17.609967984, 34.142754321), (-17.144999999, 35.265286336))
            Line((-17.144999999, 35.265286336), (-17.144999999, 39.997748357))
            ThreePointArc((-17.144999999, 39.997748357), (-17.609967984, 41.120280372), (-18.732499999, 41.585248357))
            ThreePointArc((-18.732499999, 41.585248357), (-19.855032014, 42.050216341), (-20.319999999, 43.172748357))
            Line((-20.319999999, 43.172748357), (-20.319999999, 59.010601586))
            ThreePointArc((-20.319999999, 59.010601586), (-20.013645007, 59.948057567), (-19.212820512, 60.523693934))
            ThreePointArc((-19.212820512, 60.523693934), (1e-09, 63.499999996), (19.212820514, 60.523693934))
            ThreePointArc((19.212820514, 60.523693934), (20.013645009, 59.948057567), (20.320000001, 59.010601586))
            Line((20.320000001, 59.010601586), (20.320000001, 43.172748357))
            ThreePointArc((20.320000001, 43.172748357), (19.855032016, 42.050216342), (18.732500001, 41.585248357))
            ThreePointArc((18.732500001, 41.585248357), (17.609967986, 41.120280372), (17.145000001, 39.997748357))
        make_face(mode=Mode.SUBTRACT)
        with BuildLine():
            Line((33.020000001, 15.449630654), (33.020000001, 51.336912641))
            ThreePointArc((33.020000001, 51.336912641), (33.862029168, 52.738493708), (35.494871796, 52.653243734))
            ThreePointArc((35.494871796, 52.653243734), (42.91758376, 46.800972253), (49.389337068, 39.911694824))
            ThreePointArc((49.389337068, 39.911694824), (49.737272966, 39.037652431), (49.529418969, 38.120152454))
            Line((49.529418969, 38.120152454), (35.982315329, 14.655880654))
            ThreePointArc((35.982315329, 14.655880654), (34.196624767, 13.916223406), (33.020000001, 15.449630654))
        make_face(mode=Mode.SUBTRACT)
        with BuildLine():
            Line((35.982315328, -14.655880662), (49.529418968, -38.120152462))
            ThreePointArc((49.529418968, -38.120152462), (49.737272966, -39.037652439), (49.389337068, -39.911694832))
            ThreePointArc((49.389337068, -39.911694832), (42.91758376, -46.800972262), (35.494871795, -52.653243743))
            ThreePointArc((35.494871795, -52.653243743), (33.862029167, -52.738493716), (33.020000001, -51.336912649))
            Line((33.020000001, -51.336912649), (33.020000001, -15.449630662))
            ThreePointArc((33.020000001, -15.449630662), (34.196624766, -13.916223414), (35.982315328, -14.655880662))
        make_face(mode=Mode.SUBTRACT)
        with BuildLine():
            Line((-49.529418969, -38.120152461), (-35.982315328, -14.65588066))
            ThreePointArc((-35.982315328, -14.65588066), (-34.196624764, -13.91622341), (-33.019999999, -15.449630662))
            Line((-33.019999999, -15.449630662), (-33.019999999, -51.336912649))
            ThreePointArc((-33.019999999, -51.336912649), (-33.862029166, -52.738493716), (-35.494871794, -52.653243743))
            ThreePointArc((-35.494871794, -52.653243743), (-42.917583758, -46.800972262), (-49.389337066, -39.911694832))
            ThreePointArc((-49.389337066, -39.911694832), (-49.737272965, -39.037652439), (-49.529418969, -38.120152461))
        make_face(mode=Mode.SUBTRACT)
        with BuildLine():
            Line((-41.26889197, 6.349999996), (-61.401577748, 6.349999996))
            ThreePointArc((-61.401577748, 6.349999996), (-62.593897588, 6.889392345), (-62.975977177, 8.141025637))
            ThreePointArc((-62.975977177, 8.141025637), (-60.307423445, 19.881264475), (-55.470892629, 30.906796511))
            ThreePointArc((-55.470892629, 30.906796511), (-54.096237858, 31.721580351), (-52.709304983, 30.927876598))
            Line((-52.709304983, 30.927876598), (-39.89407664, 8.731249996))
            ThreePointArc((-39.89407664, 8.731249996), (-39.89407664, 7.143749995), (-41.26889197, 6.349999996))
        make_face(mode=Mode.SUBTRACT)
    extrude(amount=BOSS_EXTRUDE1_DEPTH)


solid = part.part
